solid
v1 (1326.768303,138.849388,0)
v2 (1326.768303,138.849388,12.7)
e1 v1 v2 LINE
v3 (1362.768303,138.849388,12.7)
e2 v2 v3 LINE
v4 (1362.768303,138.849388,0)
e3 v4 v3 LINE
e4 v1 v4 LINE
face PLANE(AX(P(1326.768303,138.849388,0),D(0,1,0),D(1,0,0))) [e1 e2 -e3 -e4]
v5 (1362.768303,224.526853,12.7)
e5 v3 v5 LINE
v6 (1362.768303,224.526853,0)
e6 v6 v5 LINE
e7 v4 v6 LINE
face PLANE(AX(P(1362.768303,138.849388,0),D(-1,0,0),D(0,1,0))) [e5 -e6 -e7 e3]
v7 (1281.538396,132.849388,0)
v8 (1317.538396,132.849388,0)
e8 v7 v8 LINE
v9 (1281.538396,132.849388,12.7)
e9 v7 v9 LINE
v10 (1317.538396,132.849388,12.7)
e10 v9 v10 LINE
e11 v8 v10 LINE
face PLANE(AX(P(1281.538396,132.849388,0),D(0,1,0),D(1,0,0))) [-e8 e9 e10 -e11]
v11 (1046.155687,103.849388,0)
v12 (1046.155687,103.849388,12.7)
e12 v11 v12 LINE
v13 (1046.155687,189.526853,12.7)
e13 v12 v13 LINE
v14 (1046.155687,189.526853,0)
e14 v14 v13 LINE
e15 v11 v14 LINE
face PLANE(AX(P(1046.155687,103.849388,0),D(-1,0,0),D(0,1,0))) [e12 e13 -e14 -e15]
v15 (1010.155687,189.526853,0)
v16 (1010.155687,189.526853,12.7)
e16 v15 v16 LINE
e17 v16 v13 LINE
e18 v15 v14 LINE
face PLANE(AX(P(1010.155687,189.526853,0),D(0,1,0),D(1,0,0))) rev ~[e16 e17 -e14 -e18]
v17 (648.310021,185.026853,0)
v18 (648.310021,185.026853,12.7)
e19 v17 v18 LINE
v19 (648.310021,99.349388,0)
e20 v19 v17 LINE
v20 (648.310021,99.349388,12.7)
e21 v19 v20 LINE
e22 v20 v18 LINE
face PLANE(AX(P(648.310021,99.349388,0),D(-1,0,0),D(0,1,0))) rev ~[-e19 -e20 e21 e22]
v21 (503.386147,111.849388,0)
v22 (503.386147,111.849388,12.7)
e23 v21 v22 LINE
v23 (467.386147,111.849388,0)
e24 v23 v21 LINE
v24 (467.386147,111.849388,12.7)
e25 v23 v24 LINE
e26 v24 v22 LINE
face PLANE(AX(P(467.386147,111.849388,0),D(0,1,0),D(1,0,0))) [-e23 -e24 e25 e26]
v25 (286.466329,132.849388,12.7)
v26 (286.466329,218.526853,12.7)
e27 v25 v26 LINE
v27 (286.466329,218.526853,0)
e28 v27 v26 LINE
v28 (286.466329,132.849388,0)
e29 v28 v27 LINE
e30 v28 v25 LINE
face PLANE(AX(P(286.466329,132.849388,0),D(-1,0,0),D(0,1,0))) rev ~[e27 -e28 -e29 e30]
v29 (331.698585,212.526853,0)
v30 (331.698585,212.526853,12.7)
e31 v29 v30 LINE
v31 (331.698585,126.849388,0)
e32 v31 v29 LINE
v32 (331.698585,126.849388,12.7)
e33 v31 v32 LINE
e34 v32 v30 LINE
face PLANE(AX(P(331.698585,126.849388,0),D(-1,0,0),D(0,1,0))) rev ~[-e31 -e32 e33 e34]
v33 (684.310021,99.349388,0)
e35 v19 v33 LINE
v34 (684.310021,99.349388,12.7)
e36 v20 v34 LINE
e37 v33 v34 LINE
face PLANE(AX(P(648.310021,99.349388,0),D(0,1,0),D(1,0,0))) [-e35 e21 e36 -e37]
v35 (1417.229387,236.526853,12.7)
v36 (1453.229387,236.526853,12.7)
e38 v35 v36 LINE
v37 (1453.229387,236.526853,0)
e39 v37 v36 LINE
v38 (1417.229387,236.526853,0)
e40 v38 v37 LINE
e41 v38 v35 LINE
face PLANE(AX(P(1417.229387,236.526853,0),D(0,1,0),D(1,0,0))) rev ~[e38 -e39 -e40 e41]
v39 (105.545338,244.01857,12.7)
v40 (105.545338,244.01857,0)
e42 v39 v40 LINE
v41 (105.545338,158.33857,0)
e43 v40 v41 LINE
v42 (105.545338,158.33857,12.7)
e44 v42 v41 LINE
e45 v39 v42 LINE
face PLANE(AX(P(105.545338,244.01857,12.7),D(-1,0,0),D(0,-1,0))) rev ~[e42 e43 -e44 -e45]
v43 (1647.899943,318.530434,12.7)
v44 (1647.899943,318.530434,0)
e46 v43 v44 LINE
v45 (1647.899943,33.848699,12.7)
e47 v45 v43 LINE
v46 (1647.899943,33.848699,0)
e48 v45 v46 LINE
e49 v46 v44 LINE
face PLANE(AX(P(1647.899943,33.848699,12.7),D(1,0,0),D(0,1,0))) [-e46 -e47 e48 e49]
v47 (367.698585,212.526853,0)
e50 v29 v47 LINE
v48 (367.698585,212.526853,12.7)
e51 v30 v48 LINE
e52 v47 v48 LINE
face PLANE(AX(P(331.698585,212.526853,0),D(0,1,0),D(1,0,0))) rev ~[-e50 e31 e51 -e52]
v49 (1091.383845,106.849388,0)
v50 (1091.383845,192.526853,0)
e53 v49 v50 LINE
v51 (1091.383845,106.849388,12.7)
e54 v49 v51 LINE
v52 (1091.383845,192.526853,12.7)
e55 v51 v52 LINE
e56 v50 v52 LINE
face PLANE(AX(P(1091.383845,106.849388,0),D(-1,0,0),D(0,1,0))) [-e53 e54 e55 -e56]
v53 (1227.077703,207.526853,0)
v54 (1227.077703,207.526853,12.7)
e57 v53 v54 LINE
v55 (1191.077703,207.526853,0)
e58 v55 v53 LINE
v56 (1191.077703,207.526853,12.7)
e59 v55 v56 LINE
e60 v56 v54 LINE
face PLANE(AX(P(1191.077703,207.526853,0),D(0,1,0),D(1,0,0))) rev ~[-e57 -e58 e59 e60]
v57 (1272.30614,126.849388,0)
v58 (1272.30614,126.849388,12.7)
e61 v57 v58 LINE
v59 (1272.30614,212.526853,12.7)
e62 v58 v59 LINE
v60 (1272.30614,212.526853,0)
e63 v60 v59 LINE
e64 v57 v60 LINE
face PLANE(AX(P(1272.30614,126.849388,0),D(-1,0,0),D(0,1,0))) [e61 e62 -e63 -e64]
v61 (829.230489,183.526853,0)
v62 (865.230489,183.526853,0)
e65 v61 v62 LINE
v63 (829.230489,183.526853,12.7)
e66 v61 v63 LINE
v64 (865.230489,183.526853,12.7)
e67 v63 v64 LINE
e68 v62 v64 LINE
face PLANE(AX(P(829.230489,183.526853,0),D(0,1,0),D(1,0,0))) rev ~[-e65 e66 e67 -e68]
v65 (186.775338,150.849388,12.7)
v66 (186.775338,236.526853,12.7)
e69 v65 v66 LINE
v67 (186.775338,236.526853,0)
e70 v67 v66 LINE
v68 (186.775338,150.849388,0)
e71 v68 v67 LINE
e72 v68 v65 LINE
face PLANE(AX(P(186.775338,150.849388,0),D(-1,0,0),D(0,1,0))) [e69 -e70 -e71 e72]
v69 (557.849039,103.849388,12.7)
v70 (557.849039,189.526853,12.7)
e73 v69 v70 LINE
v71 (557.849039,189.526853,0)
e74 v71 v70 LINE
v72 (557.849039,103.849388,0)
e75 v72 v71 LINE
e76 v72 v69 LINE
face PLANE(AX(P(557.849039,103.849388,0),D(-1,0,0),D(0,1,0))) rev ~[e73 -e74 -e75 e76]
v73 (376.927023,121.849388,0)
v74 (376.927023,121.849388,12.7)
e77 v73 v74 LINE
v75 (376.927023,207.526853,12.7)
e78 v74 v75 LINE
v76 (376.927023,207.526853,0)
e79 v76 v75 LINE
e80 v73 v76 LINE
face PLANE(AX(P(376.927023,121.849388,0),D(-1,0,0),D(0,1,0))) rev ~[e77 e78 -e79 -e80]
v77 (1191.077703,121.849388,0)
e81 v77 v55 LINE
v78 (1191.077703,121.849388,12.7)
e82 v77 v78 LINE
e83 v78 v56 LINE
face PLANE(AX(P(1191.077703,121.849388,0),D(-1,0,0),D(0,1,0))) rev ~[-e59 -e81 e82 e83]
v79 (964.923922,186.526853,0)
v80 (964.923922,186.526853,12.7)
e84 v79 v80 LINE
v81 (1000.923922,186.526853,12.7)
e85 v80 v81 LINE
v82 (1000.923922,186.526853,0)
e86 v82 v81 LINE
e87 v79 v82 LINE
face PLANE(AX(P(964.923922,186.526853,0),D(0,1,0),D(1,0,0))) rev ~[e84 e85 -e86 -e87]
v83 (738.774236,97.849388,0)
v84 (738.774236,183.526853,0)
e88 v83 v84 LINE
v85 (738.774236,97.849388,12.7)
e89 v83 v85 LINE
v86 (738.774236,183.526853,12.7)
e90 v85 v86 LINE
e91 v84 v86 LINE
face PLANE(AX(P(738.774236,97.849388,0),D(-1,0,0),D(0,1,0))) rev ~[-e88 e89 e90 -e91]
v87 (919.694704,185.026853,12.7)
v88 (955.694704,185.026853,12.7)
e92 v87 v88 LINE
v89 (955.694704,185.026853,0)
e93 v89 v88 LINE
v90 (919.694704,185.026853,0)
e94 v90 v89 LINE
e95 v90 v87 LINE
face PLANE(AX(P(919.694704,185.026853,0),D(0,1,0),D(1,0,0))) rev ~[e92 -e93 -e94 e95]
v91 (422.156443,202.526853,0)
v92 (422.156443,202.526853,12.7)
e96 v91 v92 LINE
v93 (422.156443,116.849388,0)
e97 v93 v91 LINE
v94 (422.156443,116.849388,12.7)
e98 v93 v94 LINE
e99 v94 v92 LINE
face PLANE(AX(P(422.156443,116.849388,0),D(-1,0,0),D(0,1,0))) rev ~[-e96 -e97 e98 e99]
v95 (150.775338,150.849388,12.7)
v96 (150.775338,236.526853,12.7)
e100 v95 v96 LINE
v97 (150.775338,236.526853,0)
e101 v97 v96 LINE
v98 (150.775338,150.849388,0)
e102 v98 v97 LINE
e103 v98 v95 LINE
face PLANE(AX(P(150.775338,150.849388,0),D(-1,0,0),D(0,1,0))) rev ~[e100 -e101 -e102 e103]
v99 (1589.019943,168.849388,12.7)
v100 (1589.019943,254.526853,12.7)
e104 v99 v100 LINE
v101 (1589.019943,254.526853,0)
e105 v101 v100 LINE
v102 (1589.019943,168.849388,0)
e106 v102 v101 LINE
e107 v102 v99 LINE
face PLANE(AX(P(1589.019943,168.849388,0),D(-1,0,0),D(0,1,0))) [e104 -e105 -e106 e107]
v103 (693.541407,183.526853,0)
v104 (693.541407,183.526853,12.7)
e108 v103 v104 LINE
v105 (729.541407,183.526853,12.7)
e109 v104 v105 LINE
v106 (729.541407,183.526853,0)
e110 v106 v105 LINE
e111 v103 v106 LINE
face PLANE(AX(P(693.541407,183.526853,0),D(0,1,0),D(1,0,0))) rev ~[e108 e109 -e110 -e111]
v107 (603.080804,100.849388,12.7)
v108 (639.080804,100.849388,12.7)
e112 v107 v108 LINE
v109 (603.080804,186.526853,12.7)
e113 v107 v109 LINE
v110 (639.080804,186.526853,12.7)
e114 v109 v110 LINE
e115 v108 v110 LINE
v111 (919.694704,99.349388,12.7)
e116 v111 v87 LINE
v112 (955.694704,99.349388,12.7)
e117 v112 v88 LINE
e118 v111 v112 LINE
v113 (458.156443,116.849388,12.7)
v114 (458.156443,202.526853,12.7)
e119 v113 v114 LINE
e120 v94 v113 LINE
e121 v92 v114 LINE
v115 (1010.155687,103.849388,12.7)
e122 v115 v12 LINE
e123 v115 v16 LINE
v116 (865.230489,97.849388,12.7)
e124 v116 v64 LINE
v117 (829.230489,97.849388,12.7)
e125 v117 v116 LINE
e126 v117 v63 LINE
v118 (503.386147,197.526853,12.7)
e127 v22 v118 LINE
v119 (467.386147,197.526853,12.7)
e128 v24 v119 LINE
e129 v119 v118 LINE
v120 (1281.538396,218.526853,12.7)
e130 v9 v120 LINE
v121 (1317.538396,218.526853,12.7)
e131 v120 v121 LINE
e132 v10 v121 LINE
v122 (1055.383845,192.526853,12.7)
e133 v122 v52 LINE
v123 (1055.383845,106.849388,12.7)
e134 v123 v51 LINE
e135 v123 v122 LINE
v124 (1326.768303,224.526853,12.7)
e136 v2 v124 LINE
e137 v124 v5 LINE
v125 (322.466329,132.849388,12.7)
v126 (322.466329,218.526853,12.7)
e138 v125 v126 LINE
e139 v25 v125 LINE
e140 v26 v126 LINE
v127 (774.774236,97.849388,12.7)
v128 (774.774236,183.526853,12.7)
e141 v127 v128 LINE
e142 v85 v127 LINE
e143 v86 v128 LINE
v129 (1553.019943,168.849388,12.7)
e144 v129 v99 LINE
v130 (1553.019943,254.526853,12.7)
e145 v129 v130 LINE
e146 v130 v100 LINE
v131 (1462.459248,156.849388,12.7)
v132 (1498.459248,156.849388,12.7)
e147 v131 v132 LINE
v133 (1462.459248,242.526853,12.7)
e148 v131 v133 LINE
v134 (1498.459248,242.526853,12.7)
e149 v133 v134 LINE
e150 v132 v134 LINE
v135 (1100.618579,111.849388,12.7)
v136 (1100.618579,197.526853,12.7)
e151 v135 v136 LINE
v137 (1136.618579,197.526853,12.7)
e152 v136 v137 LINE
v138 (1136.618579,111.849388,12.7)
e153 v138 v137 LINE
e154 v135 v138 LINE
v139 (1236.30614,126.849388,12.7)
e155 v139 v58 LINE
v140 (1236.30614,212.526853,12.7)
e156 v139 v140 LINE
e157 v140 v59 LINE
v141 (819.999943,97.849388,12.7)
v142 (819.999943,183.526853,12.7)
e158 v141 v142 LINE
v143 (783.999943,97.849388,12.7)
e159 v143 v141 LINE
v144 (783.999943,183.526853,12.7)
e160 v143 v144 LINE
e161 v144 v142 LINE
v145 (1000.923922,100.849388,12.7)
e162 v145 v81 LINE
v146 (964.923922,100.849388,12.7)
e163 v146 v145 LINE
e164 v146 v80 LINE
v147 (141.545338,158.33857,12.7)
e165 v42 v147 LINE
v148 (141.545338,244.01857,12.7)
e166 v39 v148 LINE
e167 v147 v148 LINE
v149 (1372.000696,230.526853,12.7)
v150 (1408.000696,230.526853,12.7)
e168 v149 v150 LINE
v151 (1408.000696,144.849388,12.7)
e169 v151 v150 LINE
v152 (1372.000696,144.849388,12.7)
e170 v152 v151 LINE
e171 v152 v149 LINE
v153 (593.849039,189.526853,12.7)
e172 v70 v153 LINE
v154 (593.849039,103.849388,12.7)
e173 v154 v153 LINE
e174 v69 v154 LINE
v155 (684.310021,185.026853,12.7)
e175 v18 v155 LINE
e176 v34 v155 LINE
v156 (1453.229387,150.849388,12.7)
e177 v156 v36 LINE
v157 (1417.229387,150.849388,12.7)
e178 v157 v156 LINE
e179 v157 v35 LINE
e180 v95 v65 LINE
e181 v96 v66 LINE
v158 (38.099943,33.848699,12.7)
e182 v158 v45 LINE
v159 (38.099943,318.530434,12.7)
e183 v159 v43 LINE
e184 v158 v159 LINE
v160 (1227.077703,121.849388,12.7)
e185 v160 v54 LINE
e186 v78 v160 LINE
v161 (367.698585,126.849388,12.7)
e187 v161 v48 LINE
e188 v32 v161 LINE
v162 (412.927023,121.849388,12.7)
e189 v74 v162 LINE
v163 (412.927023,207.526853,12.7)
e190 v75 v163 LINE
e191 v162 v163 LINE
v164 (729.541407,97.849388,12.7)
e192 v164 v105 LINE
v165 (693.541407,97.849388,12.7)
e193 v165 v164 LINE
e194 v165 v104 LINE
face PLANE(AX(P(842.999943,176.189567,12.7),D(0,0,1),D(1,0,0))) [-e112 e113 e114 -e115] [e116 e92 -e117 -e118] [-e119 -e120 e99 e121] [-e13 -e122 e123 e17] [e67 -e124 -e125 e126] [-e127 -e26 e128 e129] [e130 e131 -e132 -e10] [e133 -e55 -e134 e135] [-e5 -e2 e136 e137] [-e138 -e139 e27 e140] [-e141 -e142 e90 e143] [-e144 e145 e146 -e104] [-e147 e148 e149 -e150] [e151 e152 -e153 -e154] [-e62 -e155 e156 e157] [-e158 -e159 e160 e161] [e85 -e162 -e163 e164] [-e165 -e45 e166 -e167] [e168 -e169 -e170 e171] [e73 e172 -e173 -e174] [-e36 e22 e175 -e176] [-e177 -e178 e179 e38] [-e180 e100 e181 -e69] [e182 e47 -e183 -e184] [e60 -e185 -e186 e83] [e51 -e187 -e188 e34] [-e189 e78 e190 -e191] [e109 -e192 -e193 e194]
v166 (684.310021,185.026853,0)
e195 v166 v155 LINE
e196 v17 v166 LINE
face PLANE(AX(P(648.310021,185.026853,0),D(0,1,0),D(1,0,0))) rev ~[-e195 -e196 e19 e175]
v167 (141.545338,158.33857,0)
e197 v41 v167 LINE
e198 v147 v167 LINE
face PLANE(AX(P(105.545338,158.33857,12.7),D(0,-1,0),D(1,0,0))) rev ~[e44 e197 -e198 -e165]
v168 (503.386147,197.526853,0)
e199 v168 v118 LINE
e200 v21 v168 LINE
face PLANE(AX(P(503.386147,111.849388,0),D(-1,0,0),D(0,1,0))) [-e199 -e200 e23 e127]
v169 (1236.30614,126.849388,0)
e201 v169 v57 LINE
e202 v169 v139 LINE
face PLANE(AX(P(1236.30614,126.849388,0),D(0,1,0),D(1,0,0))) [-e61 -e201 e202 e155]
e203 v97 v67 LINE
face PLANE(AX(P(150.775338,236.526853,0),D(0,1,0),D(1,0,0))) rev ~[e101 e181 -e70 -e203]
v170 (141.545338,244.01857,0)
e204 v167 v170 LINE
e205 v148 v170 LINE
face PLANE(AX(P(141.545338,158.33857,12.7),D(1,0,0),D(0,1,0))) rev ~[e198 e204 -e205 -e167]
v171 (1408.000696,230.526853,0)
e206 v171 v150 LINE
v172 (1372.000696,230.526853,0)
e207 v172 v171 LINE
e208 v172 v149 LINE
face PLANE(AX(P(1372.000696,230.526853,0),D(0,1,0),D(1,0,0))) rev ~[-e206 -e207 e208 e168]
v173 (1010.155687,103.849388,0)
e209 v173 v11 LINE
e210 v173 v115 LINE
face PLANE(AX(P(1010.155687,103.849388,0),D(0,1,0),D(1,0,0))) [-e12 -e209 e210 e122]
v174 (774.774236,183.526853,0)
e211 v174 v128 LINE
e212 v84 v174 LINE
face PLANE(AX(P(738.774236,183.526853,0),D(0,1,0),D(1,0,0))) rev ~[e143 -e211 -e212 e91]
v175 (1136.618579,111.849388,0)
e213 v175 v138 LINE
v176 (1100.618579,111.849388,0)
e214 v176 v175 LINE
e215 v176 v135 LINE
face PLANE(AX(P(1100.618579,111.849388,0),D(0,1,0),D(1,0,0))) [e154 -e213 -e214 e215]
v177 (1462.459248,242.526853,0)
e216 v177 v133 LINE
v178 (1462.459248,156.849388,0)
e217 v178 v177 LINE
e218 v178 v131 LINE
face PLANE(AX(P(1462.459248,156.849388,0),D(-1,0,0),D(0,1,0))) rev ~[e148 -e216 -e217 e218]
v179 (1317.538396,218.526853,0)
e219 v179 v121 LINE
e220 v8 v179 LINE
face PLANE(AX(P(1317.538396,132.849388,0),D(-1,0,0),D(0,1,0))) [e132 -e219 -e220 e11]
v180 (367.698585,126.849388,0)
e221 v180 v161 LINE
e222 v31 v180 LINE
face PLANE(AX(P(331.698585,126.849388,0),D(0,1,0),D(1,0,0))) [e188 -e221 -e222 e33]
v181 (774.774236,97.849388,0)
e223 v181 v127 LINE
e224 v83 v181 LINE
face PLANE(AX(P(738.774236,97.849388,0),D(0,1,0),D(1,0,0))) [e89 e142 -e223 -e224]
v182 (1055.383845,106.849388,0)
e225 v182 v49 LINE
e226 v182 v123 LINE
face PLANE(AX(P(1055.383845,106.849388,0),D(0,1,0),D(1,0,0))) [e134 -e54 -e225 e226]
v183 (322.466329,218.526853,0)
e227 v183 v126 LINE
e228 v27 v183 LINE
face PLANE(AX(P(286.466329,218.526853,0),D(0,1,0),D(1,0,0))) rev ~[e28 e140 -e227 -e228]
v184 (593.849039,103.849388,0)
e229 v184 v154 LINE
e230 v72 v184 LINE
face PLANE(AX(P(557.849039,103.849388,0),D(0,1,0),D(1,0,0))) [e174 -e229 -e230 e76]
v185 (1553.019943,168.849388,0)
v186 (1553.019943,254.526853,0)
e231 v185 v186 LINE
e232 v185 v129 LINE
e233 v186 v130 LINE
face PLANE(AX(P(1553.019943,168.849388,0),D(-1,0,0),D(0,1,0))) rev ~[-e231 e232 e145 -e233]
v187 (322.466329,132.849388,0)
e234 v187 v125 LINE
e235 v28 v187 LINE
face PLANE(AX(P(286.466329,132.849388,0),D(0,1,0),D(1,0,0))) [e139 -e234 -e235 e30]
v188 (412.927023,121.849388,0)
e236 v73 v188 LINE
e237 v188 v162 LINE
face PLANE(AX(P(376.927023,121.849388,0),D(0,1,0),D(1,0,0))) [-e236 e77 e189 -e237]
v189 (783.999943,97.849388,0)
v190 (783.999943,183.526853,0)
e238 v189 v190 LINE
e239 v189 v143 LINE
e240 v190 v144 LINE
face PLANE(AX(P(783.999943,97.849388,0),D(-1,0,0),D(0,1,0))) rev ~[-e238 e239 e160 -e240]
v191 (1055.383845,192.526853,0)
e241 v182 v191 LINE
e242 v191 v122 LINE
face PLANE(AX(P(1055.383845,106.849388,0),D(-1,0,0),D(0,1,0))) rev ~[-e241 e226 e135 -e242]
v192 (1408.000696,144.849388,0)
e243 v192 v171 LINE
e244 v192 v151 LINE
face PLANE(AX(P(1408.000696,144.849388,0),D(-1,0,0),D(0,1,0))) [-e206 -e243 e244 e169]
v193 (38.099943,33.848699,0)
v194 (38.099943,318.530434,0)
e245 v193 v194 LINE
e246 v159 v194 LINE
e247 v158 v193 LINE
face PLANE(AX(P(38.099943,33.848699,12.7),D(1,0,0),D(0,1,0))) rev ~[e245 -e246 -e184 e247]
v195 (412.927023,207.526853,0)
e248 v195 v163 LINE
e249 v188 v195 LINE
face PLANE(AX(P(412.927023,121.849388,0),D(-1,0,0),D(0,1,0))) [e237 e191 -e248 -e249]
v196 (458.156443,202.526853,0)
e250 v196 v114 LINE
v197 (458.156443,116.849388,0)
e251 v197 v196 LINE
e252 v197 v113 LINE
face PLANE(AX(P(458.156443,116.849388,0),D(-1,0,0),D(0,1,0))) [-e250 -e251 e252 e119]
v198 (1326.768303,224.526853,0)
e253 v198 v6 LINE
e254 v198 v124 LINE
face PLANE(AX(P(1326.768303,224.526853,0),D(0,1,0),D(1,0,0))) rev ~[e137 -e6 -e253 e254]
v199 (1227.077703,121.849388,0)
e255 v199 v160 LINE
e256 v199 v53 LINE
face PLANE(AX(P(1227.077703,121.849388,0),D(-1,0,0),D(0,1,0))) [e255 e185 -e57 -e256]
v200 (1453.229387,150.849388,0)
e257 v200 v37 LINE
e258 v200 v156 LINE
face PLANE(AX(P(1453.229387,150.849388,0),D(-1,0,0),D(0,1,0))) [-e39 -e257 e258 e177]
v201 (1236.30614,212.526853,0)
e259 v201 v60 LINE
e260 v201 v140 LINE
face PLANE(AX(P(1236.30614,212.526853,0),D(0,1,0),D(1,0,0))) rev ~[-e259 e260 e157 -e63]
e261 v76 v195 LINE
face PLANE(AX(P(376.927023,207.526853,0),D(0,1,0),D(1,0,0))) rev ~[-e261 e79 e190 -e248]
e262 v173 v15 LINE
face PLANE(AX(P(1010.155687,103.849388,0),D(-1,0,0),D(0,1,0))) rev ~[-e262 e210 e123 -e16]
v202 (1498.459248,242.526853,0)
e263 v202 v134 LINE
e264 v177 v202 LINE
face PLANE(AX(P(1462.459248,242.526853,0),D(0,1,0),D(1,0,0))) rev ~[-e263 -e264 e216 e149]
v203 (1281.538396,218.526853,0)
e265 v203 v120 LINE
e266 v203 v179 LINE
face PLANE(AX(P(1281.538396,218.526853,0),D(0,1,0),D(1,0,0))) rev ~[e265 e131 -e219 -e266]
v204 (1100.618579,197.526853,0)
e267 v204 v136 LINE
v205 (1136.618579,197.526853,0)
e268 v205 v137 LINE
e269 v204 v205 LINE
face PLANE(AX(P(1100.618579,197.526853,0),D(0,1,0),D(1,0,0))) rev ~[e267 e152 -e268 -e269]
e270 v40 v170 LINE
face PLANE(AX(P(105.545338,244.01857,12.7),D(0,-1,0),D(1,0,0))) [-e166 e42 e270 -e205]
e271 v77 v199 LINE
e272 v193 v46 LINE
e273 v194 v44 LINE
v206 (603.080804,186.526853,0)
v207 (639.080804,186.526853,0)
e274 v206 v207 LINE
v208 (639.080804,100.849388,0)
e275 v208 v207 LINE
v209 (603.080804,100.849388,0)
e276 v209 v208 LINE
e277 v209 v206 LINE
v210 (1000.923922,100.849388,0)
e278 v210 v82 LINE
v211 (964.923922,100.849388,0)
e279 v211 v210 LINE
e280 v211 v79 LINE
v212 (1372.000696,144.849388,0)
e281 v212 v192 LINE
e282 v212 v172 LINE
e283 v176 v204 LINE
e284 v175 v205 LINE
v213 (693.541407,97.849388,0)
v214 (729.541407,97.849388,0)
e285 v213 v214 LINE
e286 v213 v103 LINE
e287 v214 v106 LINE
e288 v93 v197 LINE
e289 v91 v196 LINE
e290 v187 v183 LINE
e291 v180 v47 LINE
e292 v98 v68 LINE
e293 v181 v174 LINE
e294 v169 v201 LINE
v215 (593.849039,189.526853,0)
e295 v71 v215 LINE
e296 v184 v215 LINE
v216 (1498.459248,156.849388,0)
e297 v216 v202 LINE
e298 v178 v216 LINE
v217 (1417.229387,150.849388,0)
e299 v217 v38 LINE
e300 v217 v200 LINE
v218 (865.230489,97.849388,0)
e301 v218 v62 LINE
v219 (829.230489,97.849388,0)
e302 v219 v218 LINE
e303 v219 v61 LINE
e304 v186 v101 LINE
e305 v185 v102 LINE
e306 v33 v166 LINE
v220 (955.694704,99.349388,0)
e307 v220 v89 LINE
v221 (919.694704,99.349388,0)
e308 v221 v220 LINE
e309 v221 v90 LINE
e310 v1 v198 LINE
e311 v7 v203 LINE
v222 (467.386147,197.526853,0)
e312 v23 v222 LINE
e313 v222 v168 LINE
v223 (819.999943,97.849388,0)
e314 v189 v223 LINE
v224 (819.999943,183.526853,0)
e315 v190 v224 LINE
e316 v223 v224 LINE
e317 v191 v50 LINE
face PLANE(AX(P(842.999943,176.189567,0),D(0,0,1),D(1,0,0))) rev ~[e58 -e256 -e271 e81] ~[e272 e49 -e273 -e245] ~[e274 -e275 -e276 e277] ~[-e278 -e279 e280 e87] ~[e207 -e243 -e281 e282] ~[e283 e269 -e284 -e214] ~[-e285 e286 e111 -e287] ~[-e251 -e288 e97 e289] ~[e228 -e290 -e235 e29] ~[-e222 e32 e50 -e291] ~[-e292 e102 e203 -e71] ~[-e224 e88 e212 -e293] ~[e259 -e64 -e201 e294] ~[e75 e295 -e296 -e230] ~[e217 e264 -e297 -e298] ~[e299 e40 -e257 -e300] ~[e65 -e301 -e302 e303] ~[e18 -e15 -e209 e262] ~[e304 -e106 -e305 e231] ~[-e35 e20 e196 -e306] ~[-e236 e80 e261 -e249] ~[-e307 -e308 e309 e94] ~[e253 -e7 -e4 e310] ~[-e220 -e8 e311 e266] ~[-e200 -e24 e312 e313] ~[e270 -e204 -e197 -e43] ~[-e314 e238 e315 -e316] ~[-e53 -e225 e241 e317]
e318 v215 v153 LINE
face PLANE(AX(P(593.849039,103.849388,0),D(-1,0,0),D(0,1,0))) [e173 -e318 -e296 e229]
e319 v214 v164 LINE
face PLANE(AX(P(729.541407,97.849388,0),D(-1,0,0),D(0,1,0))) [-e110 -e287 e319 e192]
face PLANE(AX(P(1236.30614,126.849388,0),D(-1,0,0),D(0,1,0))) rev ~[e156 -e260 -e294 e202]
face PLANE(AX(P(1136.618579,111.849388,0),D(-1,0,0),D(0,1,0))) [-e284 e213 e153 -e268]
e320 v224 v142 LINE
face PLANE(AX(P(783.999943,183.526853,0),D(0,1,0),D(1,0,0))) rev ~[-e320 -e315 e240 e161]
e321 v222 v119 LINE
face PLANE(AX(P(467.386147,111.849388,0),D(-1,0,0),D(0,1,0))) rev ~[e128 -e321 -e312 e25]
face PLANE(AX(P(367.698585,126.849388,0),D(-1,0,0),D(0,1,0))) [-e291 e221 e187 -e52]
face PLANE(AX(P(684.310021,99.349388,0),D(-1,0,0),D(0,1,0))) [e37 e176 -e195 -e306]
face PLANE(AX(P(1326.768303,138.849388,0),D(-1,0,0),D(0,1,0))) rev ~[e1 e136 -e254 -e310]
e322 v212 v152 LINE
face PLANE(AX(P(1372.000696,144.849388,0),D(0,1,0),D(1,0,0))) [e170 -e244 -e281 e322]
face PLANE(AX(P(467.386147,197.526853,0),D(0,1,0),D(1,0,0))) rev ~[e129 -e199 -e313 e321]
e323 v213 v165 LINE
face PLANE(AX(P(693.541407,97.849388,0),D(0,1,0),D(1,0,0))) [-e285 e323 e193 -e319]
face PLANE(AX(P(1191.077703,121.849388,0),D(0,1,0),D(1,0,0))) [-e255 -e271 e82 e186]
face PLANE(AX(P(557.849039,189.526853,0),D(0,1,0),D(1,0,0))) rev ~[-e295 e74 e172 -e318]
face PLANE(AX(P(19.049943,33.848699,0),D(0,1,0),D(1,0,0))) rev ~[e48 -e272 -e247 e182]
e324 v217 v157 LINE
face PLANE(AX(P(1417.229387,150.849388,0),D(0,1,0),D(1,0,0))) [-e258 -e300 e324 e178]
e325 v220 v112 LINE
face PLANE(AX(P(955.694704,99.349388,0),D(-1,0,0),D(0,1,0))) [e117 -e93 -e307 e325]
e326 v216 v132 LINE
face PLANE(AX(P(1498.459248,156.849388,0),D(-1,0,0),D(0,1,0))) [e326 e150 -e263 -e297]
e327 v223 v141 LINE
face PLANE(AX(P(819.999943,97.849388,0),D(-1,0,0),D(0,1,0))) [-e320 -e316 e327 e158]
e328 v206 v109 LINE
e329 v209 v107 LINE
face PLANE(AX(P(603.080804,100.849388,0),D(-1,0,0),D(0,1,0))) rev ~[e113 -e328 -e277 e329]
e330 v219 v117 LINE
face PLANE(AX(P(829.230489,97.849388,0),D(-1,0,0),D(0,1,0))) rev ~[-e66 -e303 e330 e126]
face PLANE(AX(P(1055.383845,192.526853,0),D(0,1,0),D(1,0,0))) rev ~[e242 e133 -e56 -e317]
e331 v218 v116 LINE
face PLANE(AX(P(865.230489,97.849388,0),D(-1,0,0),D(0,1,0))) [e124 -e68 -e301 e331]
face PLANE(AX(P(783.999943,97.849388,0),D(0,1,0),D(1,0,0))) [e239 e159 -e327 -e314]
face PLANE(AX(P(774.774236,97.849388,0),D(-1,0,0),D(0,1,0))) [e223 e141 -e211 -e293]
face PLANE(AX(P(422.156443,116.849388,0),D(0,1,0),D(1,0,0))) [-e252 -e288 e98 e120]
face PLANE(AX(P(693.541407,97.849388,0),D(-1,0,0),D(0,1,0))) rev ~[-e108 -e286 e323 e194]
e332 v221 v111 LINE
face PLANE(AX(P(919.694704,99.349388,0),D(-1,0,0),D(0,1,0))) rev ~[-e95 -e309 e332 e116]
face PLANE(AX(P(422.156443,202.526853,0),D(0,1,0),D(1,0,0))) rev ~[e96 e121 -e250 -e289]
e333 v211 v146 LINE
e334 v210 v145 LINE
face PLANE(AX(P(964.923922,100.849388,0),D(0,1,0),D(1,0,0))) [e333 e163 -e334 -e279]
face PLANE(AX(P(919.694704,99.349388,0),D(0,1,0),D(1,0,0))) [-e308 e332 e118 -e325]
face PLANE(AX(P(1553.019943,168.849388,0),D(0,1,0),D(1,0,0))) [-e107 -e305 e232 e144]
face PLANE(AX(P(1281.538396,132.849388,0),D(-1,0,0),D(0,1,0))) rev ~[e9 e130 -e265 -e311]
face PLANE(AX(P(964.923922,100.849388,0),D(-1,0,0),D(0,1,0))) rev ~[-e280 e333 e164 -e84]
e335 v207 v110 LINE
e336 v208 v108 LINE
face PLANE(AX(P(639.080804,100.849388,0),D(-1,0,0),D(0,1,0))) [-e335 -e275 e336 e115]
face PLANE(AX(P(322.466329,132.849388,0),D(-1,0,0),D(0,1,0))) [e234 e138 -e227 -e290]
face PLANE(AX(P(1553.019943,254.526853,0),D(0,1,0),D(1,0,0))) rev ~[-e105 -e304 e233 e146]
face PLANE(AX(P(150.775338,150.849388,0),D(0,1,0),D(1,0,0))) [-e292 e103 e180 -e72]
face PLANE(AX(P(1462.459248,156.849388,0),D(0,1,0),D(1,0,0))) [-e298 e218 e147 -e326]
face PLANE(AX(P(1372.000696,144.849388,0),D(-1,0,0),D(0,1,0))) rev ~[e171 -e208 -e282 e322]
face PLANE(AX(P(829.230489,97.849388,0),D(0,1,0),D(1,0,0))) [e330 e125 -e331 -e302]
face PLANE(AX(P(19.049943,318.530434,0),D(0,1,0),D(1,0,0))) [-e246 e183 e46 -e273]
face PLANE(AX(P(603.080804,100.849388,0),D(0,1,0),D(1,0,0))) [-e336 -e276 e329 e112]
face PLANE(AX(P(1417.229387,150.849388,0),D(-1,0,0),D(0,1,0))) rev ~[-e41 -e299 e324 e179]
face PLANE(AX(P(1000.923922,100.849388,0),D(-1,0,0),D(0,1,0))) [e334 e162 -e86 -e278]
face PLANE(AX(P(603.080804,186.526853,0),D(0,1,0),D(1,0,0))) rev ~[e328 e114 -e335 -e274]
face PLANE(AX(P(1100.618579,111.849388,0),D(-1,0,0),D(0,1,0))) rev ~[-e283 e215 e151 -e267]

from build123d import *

# Parameters (mm, degrees)
SKETCH2_W           = 1647.9
SKETCH2_H           = 284.681734848
SKETCH2_W_2         = 36
SKETCH2_H_2         = 85.677465121
BOSS_EXTRUDE1_DEPTH = 12.7
SKETCH3_W           = 19.05
SKETCH3_H           = 284.681734848
CUT_EXTRUDE1_DEPTH  = 13.7
SKETCH4_W           = 36
SKETCH4_H           = 50.330449982
SKETCH4_H_2         = 35.349550018
CUT_EXTRUDE2_DEPTH  = 13.7


with BuildPart() as part:
    # Sketch2 → Boss-Extrude1 (new body)
    with BuildSketch(Plane.XY):
        with Locations((842.999943303, 176.189566708)):
            Rectangle(SKETCH2_W, SKETCH2_H)
        with Locations((1571.01994314, 211.688120447)):
            Rectangle(SKETCH2_W_2, SKETCH2_H_2, mode=Mode.SUBTRACT)
        with Locations((1480.459247559, 199.688120447)):
            Rectangle(SKETCH2_W_2, SKETCH2_H_2, mode=Mode.SUBTRACT)
        with Locations((1435.229386921, 193.688120447)):
            Rectangle(SKETCH2_W_2, SKETCH2_H_2, mode=Mode.SUBTRACT)
        with Locations((1390.000695887, 187.688120447)):
            Rectangle(SKETCH2_W_2, SKETCH2_H_2, mode=Mode.SUBTRACT)
        with Locations((1344.768303255, 181.688120447)):
            Rectangle(SKETCH2_W_2, SKETCH2_H_2, mode=Mode.SUBTRACT)
        with Locations((1299.538396377, 175.688120447)):
            Rectangle(SKETCH2_W_2, SKETCH2_H_2, mode=Mode.SUBTRACT)
        with Locations((1254.306140471, 169.688120446)):
            Rectangle(SKETCH2_W_2, SKETCH2_H_2, mode=Mode.SUBTRACT)
        with Locations((1209.07770281, 164.688120446)):
            Rectangle(SKETCH2_W_2, SKETCH2_H_2, mode=Mode.SUBTRACT)
        with Locations((1118.618578512, 154.688120446)):
            Rectangle(SKETCH2_W_2, SKETCH2_H_2, mode=Mode.SUBTRACT)
        with Locations((1073.383844827, 149.688120446)):
            Rectangle(SKETCH2_W_2, SKETCH2_H_2, mode=Mode.SUBTRACT)
        with Locations((1028.155686863, 146.688120446)):
            Rectangle(SKETCH2_W_2, SKETCH2_H_2, mode=Mode.SUBTRACT)
        with Locations((982.9239215, 143.688120446)):
            Rectangle(SKETCH2_W_2, SKETCH2_H_2, mode=Mode.SUBTRACT)
        with Locations((937.694704034, 142.188120446)):
            Rectangle(SKETCH2_W_2, SKETCH2_H_2, mode=Mode.SUBTRACT)
        with Locations((847.230489128, 140.688120446)):
            Rectangle(SKETCH2_W_2, SKETCH2_H_2, mode=Mode.SUBTRACT)
        with Locations((801.999943303, 140.688120446)):
            Rectangle(SKETCH2_W_2, SKETCH2_H_2, mode=Mode.SUBTRACT)
        with Locations((756.774236257, 140.688120446)):
            Rectangle(SKETCH2_W_2, SKETCH2_H_2, mode=Mode.SUBTRACT)
        with Locations((711.541406556, 140.688120446)):
            Rectangle(SKETCH2_W_2, SKETCH2_H_2, mode=Mode.SUBTRACT)
        with Locations((666.310021351, 142.188120446)):
            Rectangle(SKETCH2_W_2, SKETCH2_H_2, mode=Mode.SUBTRACT)
        with Locations((621.080803885, 143.688120446)):
            Rectangle(SKETCH2_W_2, SKETCH2_H_2, mode=Mode.SUBTRACT)
        with Locations((575.849038522, 146.688120446)):
            Rectangle(SKETCH2_W_2, SKETCH2_H_2, mode=Mode.SUBTRACT)
        with Locations((485.386146872, 154.688120446)):
            Rectangle(SKETCH2_W_2, SKETCH2_H_2, mode=Mode.SUBTRACT)
        with Locations((304.466329007, 175.688120447)):
            Rectangle(SKETCH2_W_2, SKETCH2_H_2, mode=Mode.SUBTRACT)
        with Locations((440.15644292, 159.688120446)):
            Rectangle(SKETCH2_W_2, SKETCH2_H_2, mode=Mode.SUBTRACT)
        with Locations((394.927022575, 164.688120446)):
            Rectangle(SKETCH2_W_2, SKETCH2_H_2, mode=Mode.SUBTRACT)
        with Locations((349.698584914, 169.688120446)):
            Rectangle(SKETCH2_W_2, SKETCH2_H_2, mode=Mode.SUBTRACT)
        with Locations((168.775338464, 193.688120447)):
            Rectangle(SKETCH2_W_2, SKETCH2_H_2, mode=Mode.SUBTRACT)
    extrude(amount=BOSS_EXTRUDE1_DEPTH)

    # Sketch3 → Cut-Extrude1 (cut, through all)
    with BuildSketch(Plane.XY.offset(12.7)):
        with Locations((1657.424943303, 176.189566708)):
            Rectangle(SKETCH3_W, SKETCH3_H)
        with Locations((28.574943303, 176.189566708)):
            Rectangle(SKETCH3_W, SKETCH3_H)
    extrude(amount=-CUT_EXTRUDE1_DEPTH, mode=Mode.SUBTRACT)

    # Sketch4 → Cut-Extrude2 (cut, through all)
    with BuildSketch(Plane.XY.offset(12.7)):
        with Locations((123.545338464, 218.853345438)):
            Rectangle(SKETCH4_W, SKETCH4_H)
        with Locations((123.545338464, 176.013345438)):
            Rectangle(SKETCH4_W, SKETCH4_H_2)
    extrude(amount=-CUT_EXTRUDE2_DEPTH, mode=Mode.SUBTRACT)


solid = part.part
